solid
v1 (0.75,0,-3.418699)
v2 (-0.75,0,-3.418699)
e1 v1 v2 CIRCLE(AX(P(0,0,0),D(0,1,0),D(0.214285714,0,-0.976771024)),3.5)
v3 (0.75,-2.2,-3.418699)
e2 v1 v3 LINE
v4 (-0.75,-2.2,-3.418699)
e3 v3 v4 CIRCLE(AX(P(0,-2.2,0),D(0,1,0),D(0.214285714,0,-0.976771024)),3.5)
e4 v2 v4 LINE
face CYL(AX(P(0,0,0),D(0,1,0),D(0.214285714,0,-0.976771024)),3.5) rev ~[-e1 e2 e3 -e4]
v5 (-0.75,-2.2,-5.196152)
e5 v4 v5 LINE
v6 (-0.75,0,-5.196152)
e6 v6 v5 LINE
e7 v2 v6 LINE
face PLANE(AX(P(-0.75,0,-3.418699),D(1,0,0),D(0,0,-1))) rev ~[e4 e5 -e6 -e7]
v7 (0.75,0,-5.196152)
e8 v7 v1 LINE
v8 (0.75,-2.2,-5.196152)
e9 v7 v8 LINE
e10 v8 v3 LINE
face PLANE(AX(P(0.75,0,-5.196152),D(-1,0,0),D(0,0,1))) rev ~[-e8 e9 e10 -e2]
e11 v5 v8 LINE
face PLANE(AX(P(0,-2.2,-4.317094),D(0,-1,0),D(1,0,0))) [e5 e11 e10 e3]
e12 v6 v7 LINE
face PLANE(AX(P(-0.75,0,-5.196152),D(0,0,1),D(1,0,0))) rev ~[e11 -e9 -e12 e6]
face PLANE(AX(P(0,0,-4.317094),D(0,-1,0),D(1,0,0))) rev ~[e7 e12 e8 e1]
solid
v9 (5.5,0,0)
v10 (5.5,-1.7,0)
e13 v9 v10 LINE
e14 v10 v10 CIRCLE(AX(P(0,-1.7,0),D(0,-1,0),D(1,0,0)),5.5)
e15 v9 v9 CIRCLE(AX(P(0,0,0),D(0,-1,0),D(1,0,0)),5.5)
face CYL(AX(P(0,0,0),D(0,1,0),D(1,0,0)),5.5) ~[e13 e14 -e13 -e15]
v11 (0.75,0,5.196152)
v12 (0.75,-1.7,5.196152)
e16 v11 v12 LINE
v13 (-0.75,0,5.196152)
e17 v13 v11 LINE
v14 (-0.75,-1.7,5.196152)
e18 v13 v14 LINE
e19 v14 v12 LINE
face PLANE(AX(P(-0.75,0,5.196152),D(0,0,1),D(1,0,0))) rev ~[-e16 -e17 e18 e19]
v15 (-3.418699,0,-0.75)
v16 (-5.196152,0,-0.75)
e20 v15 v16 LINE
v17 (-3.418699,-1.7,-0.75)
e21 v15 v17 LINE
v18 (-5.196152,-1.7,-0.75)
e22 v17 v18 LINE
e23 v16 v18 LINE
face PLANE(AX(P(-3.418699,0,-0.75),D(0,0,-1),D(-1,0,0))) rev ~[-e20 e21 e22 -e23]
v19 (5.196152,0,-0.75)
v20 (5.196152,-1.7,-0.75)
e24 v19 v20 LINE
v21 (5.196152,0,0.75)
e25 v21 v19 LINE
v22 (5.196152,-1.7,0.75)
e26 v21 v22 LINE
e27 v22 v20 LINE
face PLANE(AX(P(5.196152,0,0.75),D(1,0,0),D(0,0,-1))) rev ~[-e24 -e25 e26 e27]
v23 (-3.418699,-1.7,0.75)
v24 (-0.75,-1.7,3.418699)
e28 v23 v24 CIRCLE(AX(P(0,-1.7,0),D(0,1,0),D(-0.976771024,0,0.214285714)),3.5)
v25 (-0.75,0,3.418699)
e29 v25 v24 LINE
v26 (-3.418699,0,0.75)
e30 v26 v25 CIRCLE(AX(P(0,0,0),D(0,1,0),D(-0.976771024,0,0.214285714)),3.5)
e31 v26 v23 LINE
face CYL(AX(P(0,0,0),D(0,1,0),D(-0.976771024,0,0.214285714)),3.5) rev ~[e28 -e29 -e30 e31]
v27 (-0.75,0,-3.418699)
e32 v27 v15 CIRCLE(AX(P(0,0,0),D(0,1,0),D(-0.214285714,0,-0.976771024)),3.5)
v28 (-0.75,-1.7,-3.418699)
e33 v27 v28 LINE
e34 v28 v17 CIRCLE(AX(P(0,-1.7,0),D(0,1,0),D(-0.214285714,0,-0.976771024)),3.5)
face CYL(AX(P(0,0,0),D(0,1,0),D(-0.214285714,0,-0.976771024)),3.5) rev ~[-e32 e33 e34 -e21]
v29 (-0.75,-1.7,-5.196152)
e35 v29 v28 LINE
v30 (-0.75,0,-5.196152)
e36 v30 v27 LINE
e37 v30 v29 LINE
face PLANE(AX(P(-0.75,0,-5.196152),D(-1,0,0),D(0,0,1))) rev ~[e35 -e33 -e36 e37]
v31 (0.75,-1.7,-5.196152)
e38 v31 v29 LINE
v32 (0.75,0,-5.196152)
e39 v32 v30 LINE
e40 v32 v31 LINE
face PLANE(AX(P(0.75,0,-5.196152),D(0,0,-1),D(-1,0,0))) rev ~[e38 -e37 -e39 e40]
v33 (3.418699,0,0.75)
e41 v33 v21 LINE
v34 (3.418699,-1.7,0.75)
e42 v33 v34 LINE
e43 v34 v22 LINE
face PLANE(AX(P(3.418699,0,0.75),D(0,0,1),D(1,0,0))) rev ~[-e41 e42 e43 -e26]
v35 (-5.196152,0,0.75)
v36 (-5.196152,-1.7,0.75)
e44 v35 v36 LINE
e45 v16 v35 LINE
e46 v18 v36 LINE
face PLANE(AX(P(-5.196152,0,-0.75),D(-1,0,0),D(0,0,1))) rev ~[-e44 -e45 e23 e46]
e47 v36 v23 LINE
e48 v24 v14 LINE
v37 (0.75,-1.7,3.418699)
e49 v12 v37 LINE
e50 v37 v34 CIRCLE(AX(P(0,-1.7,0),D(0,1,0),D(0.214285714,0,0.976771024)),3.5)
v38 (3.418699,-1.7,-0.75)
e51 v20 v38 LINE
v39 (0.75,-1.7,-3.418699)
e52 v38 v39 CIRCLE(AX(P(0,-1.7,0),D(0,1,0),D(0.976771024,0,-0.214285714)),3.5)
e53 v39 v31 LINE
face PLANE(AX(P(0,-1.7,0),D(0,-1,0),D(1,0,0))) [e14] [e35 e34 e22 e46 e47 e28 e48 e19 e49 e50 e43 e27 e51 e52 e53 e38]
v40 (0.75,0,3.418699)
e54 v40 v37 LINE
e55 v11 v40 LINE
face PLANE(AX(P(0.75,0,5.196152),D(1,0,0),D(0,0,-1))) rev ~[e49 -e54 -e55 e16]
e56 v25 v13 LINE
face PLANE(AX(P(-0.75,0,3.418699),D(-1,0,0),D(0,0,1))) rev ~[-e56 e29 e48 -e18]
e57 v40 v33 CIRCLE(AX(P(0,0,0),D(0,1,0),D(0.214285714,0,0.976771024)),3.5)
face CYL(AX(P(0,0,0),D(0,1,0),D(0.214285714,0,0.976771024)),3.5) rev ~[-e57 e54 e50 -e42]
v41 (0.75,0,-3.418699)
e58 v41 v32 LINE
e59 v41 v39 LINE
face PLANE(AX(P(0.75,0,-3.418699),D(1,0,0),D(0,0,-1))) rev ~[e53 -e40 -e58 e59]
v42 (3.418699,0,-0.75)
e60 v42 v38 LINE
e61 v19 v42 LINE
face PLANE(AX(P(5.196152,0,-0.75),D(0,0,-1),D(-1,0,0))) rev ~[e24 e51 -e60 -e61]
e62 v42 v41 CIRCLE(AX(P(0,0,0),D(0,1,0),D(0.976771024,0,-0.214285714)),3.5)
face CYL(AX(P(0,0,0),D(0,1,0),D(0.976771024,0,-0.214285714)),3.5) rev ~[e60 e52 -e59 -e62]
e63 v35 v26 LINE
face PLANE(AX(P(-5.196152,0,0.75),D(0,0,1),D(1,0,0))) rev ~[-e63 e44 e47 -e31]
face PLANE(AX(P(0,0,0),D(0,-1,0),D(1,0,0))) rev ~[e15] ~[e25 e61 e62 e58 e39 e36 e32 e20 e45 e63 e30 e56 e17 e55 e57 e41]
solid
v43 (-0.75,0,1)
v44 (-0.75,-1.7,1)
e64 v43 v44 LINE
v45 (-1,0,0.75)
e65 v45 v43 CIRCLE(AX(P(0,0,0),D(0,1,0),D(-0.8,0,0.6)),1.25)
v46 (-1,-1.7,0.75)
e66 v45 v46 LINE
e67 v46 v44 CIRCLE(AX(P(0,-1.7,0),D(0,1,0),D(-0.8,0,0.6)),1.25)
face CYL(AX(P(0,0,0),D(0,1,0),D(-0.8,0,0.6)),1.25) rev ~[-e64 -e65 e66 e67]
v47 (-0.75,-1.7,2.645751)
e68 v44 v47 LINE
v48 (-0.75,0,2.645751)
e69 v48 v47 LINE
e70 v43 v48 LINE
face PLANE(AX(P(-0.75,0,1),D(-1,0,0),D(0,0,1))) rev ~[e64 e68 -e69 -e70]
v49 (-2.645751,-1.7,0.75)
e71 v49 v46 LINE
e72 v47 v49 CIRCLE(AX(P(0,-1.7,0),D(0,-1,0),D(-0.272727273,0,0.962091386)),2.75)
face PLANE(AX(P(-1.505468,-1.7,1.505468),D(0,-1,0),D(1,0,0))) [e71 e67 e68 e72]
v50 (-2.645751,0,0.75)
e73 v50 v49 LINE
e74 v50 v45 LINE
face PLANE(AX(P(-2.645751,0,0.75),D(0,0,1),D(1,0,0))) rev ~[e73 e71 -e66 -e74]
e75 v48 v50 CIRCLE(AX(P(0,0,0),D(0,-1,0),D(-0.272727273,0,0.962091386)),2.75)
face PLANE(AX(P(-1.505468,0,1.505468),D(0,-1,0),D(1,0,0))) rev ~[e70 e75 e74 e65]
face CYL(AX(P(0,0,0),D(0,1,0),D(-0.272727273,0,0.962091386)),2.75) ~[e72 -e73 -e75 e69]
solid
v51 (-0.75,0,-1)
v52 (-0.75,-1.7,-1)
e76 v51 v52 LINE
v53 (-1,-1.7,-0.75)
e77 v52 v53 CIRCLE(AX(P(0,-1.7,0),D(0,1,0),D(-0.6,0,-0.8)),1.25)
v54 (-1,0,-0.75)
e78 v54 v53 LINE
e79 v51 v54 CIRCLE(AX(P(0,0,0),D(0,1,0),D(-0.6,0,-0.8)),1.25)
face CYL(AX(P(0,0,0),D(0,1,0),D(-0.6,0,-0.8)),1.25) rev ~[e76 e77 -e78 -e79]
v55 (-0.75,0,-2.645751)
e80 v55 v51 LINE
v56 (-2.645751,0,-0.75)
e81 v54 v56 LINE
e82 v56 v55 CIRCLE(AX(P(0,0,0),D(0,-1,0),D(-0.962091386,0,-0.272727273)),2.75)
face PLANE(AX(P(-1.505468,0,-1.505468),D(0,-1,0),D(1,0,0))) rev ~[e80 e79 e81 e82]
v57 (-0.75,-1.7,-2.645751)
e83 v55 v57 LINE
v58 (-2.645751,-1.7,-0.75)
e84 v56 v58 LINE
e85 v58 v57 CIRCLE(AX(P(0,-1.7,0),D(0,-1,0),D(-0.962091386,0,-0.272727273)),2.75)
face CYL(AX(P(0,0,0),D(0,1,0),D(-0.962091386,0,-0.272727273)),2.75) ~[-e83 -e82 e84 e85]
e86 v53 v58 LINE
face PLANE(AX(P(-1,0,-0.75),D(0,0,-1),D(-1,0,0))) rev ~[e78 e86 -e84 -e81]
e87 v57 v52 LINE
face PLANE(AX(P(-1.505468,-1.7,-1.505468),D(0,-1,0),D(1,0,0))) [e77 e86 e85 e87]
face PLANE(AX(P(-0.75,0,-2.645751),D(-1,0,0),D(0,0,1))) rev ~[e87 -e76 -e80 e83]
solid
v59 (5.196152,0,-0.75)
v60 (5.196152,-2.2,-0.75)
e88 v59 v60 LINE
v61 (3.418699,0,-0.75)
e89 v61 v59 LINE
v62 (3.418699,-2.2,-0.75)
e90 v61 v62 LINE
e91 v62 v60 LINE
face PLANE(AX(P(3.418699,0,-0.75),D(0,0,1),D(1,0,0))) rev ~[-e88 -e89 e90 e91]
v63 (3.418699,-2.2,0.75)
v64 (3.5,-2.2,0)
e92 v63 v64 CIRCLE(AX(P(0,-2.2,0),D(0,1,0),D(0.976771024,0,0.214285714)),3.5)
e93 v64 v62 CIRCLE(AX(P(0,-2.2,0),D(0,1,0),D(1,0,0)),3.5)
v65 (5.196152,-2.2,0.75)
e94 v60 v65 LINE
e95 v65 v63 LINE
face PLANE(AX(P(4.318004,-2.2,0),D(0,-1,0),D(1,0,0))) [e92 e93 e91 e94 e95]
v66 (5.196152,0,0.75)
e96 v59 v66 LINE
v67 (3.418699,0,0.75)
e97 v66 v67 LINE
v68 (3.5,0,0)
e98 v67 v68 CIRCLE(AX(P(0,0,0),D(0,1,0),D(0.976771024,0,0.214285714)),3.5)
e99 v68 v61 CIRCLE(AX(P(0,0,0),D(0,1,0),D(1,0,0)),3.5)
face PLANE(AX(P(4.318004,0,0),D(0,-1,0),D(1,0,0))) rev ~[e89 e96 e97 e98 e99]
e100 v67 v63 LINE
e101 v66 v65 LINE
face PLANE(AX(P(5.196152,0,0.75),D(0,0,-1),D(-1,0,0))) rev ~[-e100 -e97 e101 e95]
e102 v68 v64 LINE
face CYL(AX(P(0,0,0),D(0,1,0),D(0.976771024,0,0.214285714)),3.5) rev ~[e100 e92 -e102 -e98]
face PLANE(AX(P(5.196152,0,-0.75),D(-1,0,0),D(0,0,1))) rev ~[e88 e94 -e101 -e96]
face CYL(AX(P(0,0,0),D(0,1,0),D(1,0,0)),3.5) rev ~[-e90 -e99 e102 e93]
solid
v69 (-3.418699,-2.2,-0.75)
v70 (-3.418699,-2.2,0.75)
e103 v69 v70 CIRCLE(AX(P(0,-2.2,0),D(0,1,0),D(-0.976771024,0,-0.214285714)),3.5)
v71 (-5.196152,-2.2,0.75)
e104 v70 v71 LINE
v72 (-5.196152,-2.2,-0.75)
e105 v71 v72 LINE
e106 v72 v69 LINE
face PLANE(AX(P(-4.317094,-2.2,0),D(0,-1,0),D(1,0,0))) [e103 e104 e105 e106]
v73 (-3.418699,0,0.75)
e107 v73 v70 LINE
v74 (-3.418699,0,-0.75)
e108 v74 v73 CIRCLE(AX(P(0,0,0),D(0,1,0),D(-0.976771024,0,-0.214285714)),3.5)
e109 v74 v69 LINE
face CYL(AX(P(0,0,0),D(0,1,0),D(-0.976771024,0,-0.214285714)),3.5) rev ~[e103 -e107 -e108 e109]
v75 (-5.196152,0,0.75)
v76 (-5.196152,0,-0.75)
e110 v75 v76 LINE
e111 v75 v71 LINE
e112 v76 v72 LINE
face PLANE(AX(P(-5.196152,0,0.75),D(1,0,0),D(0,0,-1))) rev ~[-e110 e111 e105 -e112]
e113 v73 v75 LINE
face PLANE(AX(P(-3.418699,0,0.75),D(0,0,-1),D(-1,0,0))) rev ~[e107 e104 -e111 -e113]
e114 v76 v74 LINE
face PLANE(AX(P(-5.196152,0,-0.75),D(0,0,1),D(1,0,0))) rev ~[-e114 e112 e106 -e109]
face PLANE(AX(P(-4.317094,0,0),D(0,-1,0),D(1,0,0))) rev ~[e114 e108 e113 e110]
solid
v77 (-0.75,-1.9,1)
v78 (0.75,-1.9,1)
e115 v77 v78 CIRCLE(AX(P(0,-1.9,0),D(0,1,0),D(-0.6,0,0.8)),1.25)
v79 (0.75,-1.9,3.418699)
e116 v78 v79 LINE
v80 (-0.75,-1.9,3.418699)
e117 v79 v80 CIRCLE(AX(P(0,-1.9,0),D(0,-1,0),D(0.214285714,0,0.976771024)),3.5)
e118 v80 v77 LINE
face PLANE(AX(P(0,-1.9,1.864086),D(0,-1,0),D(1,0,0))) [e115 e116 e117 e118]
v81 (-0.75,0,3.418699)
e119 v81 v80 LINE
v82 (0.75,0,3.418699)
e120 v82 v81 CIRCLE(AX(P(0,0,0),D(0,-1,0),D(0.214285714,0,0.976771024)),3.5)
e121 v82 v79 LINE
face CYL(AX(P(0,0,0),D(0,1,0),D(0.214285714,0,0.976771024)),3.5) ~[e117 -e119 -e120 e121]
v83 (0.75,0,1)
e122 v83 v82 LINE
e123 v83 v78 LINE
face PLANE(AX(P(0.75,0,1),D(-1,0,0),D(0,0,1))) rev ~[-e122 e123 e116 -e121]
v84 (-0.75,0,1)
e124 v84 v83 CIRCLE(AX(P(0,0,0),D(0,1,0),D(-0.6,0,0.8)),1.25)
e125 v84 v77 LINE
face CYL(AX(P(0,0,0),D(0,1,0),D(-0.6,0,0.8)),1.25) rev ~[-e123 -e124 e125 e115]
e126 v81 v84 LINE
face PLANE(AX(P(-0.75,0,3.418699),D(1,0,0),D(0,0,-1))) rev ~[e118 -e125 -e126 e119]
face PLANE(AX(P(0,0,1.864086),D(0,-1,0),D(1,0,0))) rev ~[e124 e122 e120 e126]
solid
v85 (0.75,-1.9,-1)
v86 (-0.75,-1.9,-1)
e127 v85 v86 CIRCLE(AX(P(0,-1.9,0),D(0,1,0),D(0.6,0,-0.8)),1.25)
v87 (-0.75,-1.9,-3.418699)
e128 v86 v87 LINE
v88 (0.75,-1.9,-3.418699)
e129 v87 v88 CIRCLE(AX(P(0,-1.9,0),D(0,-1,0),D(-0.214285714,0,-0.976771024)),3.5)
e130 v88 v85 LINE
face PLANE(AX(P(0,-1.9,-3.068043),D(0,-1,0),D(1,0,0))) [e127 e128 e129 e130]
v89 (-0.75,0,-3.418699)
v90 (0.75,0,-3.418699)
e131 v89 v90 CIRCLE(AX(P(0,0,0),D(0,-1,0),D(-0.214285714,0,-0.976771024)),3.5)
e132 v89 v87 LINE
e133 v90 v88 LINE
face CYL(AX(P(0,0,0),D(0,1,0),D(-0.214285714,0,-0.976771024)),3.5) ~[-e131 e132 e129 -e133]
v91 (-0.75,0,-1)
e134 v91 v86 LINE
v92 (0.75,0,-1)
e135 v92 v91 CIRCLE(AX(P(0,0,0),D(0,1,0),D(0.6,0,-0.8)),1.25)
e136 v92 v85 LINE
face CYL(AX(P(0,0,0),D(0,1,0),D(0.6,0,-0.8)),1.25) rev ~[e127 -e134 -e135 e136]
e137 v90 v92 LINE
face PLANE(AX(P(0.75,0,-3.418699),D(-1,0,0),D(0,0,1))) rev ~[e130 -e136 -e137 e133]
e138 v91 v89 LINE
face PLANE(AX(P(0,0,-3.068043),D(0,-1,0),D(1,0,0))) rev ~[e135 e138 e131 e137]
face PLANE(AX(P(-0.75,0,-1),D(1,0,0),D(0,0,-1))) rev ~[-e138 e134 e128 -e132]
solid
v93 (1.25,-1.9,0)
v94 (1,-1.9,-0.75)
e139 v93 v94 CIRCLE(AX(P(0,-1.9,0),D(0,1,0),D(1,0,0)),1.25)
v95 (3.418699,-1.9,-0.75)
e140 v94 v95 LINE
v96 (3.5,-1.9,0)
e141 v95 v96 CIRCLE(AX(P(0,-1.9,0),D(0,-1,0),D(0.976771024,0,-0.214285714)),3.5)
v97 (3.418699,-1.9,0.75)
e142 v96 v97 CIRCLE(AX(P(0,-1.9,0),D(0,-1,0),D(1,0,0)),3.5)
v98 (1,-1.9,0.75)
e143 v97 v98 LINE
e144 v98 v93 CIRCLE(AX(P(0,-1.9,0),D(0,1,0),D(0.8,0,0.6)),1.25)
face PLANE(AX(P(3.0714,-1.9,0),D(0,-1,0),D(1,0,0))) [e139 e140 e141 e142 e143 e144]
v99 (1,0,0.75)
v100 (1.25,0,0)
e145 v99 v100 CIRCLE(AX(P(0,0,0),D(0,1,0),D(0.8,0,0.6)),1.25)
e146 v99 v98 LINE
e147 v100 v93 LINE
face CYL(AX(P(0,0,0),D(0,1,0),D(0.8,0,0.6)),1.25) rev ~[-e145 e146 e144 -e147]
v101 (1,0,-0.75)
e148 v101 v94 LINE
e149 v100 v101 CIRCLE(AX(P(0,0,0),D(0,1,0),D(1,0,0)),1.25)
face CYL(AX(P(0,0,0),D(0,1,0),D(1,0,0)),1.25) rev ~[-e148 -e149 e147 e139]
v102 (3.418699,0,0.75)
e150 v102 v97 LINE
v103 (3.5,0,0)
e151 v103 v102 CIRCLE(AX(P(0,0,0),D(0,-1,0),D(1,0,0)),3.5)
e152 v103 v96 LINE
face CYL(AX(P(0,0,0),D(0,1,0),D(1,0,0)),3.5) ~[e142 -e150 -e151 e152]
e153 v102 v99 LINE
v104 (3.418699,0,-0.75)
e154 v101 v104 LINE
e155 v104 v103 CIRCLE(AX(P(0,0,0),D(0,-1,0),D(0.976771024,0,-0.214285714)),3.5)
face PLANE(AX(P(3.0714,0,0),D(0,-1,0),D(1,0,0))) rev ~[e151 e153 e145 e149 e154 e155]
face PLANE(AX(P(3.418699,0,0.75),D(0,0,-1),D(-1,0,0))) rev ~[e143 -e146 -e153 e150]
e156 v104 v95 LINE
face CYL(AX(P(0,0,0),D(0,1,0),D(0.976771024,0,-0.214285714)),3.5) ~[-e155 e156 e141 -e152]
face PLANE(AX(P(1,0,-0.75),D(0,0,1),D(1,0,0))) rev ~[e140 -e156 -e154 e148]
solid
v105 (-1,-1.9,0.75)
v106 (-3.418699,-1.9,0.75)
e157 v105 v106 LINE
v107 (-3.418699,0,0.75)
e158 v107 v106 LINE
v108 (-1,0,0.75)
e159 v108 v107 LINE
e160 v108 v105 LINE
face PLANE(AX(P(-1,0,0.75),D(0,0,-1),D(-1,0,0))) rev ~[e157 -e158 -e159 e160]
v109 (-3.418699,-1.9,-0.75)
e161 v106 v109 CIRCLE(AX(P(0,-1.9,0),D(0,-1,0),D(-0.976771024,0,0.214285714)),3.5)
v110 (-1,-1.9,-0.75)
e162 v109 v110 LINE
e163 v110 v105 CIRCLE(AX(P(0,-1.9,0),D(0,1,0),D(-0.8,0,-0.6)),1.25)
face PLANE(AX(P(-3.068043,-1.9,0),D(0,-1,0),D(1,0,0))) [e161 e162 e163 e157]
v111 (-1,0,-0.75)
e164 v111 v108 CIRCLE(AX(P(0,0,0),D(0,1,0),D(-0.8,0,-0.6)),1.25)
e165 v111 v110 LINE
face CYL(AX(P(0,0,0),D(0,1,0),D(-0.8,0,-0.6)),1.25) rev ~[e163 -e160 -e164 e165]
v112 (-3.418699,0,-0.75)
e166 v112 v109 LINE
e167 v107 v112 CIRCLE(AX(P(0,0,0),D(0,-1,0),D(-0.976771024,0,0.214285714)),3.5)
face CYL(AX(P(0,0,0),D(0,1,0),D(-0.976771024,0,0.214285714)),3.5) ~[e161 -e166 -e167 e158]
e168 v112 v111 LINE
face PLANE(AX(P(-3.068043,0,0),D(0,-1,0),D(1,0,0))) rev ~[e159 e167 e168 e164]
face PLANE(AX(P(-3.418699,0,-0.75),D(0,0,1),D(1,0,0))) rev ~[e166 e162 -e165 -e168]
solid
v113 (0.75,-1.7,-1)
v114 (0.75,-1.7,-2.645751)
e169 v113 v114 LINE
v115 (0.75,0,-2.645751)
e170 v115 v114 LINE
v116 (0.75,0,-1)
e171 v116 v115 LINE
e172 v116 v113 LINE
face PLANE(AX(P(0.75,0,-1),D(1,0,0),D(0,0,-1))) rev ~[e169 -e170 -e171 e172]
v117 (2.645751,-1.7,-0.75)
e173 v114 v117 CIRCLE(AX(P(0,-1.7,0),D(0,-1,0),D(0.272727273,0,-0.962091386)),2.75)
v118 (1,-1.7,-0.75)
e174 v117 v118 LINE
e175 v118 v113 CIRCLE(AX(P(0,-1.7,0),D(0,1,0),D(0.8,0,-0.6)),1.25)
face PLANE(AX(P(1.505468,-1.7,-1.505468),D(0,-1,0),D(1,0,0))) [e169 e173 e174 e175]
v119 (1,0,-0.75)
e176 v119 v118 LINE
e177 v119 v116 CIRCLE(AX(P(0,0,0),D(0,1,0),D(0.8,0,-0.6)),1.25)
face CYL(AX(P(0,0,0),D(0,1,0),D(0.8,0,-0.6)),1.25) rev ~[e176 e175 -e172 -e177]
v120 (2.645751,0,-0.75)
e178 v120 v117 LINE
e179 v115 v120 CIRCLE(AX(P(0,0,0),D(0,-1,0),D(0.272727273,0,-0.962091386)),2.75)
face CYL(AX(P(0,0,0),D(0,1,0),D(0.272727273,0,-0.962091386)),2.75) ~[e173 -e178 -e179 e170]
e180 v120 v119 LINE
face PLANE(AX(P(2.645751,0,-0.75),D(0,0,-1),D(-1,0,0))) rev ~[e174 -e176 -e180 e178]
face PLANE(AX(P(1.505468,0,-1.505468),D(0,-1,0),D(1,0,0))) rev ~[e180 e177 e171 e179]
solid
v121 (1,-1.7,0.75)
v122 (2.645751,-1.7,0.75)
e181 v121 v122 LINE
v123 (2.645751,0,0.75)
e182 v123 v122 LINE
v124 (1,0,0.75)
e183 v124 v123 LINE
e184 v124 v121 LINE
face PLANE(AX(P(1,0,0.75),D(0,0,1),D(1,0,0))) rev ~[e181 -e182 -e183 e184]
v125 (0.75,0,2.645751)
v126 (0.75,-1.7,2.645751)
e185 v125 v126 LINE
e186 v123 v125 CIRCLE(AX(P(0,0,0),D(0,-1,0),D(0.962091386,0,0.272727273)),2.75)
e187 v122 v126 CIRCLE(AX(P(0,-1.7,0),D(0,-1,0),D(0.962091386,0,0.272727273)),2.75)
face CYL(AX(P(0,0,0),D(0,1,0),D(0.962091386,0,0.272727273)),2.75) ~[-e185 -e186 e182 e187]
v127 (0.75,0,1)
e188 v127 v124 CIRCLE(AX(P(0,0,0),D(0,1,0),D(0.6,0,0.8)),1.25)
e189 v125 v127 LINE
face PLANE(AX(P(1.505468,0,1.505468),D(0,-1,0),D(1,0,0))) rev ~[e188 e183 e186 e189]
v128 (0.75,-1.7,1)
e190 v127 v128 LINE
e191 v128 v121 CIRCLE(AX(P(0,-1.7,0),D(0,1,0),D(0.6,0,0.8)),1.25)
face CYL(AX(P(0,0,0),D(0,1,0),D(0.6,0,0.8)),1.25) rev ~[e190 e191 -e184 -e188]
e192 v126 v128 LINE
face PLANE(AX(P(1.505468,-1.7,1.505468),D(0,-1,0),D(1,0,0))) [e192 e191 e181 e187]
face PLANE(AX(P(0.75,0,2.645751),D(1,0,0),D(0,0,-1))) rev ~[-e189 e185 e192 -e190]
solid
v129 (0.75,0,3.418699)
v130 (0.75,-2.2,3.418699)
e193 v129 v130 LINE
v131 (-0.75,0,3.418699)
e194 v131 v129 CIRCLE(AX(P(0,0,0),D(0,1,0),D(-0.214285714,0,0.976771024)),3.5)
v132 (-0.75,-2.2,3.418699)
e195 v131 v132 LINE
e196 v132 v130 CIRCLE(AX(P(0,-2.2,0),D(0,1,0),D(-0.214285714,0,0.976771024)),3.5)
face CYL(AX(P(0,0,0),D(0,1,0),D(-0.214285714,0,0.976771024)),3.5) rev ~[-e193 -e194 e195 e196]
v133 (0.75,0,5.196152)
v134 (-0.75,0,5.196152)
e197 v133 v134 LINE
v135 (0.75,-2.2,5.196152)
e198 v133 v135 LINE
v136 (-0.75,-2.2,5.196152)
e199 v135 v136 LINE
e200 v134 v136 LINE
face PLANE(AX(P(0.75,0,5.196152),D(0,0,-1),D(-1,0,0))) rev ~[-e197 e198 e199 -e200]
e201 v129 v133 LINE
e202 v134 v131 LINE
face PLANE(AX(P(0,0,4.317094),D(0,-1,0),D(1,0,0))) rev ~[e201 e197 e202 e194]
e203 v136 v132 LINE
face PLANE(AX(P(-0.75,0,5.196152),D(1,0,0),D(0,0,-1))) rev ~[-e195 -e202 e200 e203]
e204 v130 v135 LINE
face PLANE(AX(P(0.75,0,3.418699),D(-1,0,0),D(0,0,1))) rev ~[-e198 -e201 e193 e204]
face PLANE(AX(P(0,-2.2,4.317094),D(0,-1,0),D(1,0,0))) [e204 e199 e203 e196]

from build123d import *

# Parameters (mm, degrees)
F1_DEPTH = 1.7
F0_R     = 5.5
F2_DEPTH = 1.9
F3_DEPTH = 2.2


with BuildPart() as f1:
    # F0 (on Front) → F1 (new body)
    with BuildSketch(Plane.XZ):
        with BuildLine():
            ThreePointArc((0.75, 1), (0.8838834765, 0.8838834765), (1, 0.75))
            Line((1, 0.75), (2.6457513111, 0.75))
            ThreePointArc((2.6457513111, 0.75), (1.9445436483, 1.9445436483), (0.75, 2.6457513111))
            Line((0.75, 2.6457513111), (0.75, 1))
        make_face()
    extrude(amount=F1_DEPTH)


with BuildPart() as f1b:
    # F0 (on Front) → F1, piece 2 (new body)
    with BuildSketch(Plane.XZ):
        Circle(F0_R)
        with BuildLine():
            ThreePointArc((0.75, 5.1961524227), (3.7123106012, 3.7123106012), (5.1961524227, 0.75))
            ThreePointArc((5.1961524227, 0.75), (5.236520802, 0.3759652782), (5.25, 0))
            ThreePointArc((5.25, 0), (5.236520802, -0.3759652782), (5.1961524227, -0.75))
            ThreePointArc((5.1961524227, -0.75), (3.7123106012, -3.7123106012), (0.75, -5.1961524227))
            ThreePointArc((0.75, -5.1961524227), (0, -5.25), (-0.75, -5.1961524227))
            ThreePointArc((-0.75, -5.1961524227), (-3.7123106012, -3.7123106012), (-5.1961524227, -0.75))
            ThreePointArc((-5.1961524227, -0.75), (-5.25, 0), (-5.1961524227, 0.75))
            ThreePointArc((-5.1961524227, 0.75), (-3.7123106012, 3.7123106012), (-0.75, 5.1961524227))
            ThreePointArc((-0.75, 5.1961524227), (0, 5.25), (0.75, 5.1961524227))
        make_face(mode=Mode.SUBTRACT)
        with BuildLine():
            ThreePointArc((0.75, 3.4186985828), (2.4748737342, 2.4748737342), (3.4186985828, 0.75))
            Line((3.4186985828, 0.75), (5.1961524227, 0.75))
            ThreePointArc((5.1961524227, 0.75), (3.7123106012, 3.7123106012), (0.75, 5.1961524227))
            Line((0.75, 5.1961524227), (0.75, 3.4186985828))
        make_face()
        with BuildLine():
            Line((-0.75, -5.1961524227), (-0.75, -3.4186985828))
            ThreePointArc((-0.75, -3.4186985828), (-2.4748737342, -2.4748737342), (-3.4186985828, -0.75))
            Line((-3.4186985828, -0.75), (-5.1961524227, -0.75))
            ThreePointArc((-5.1961524227, -0.75), (-3.7123106012, -3.7123106012), (-0.75, -5.1961524227))
        make_face()
        with BuildLine():
            ThreePointArc((-3.4186985828, 0.75), (-2.4748737342, 2.4748737342), (-0.75, 3.4186985828))
            Line((-0.75, 3.4186985828), (-0.75, 5.1961524227))
            ThreePointArc((-0.75, 5.1961524227), (-3.7123106012, 3.7123106012), (-5.1961524227, 0.75))
            Line((-5.1961524227, 0.75), (-3.4186985828, 0.75))
        make_face()
        with BuildLine():
            Line((5.1961524227, -0.75), (3.4186985828, -0.75))
            ThreePointArc((3.4186985828, -0.75), (2.4748737342, -2.4748737342), (0.75, -3.4186985828))
            Line((0.75, -3.4186985828), (0.75, -5.1961524227))
            ThreePointArc((0.75, -5.1961524227), (3.7123106012, -3.7123106012), (5.1961524227, -0.75))
        make_face()
        with BuildLine():
            Line((-0.75, 5.1961524227), (0.75, 5.1961524227))
            ThreePointArc((0.75, 5.1961524227), (0, 5.25), (-0.75, 5.1961524227))
        make_face()
        with BuildLine():
            ThreePointArc((-0.75, -5.1961524227), (0, -5.25), (0.75, -5.1961524227))
            Line((0.75, -5.1961524227), (-0.75, -5.1961524227))
        make_face()
        with BuildLine():
            ThreePointArc((5.25, 0), (5.236520802, 0.3759652782), (5.1961524227, 0.75))
            Line((5.1961524227, 0.75), (5.1961524227, -0.75))
            ThreePointArc((5.1961524227, -0.75), (5.236520802, -0.3759652782), (5.25, 0))
        make_face()
        with BuildLine():
            Line((-5.1961524227, -0.75), (-5.1961524227, 0.75))
            ThreePointArc((-5.1961524227, 0.75), (-5.25, 0), (-5.1961524227, -0.75))
        make_face()
    extrude(amount=F1_DEPTH)


with BuildPart() as f1c:
    # F0 (on Front) → F1, piece 3 (new body)
    with BuildSketch(Plane.XZ):
        with BuildLine():
            ThreePointArc((-1, 0.75), (-0.8838834765, 0.8838834765), (-0.75, 1))
            Line((-0.75, 1), (-0.75, 2.6457513111))
            ThreePointArc((-0.75, 2.6457513111), (-1.9445436483, 1.9445436483), (-2.6457513111, 0.75))
            Line((-2.6457513111, 0.75), (-1, 0.75))
        make_face()
    extrude(amount=F1_DEPTH)


with BuildPart() as f1d:
    # F0 (on Front) → F1, piece 4 (new body)
    with BuildSketch(Plane.XZ):
        with BuildLine():
            Line((-0.75, -2.6457513111), (-0.75, -1))
            ThreePointArc((-0.75, -1), (-0.8838834765, -0.8838834765), (-1, -0.75))
            Line((-1, -0.75), (-2.6457513111, -0.75))
            ThreePointArc((-2.6457513111, -0.75), (-1.9445436483, -1.9445436483), (-0.75, -2.6457513111))
        make_face()
    extrude(amount=F1_DEPTH)


with BuildPart() as f1e:
    # F0 (on Front) → F1, piece 5 (new body)
    with BuildSketch(Plane.XZ):
        with BuildLine():
            Line((2.6457513111, -0.75), (1, -0.75))
            ThreePointArc((1, -0.75), (0.8838834765, -0.8838834765), (0.75, -1))
            Line((0.75, -1), (0.75, -2.6457513111))
            ThreePointArc((0.75, -2.6457513111), (1.9445436483, -1.9445436483), (2.6457513111, -0.75))
        make_face()
    extrude(amount=F1_DEPTH)


with BuildPart() as f2:
    # F0 (on Front) → F2 (new body)
    with BuildSketch(Plane.XZ):
        with BuildLine():
            ThreePointArc((-2.6457513111, -0.75), (-2.75, 0), (-2.6457513111, 0.75))
            Line((-2.6457513111, 0.75), (-3.4186985828, 0.75))
            ThreePointArc((-3.4186985828, 0.75), (-3.5, 0), (-3.4186985828, -0.75))
            Line((-3.4186985828, -0.75), (-2.6457513111, -0.75))
        make_face()
        with BuildLine():
            ThreePointArc((-1, -0.75), (-1.25, 0), (-1, 0.75))
            Line((-1, 0.75), (-2.6457513111, 0.75))
            ThreePointArc((-2.6457513111, 0.75), (-2.75, 0), (-2.6457513111, -0.75))
            Line((-2.6457513111, -0.75), (-1, -0.75))
        make_face()
    extrude(amount=F2_DEPTH)


with BuildPart() as f2b:
    # F0 (on Front) → F2, piece 2 (new body)
    with BuildSketch(Plane.XZ):
        with BuildLine():
            ThreePointArc((-0.75, 1), (0, 1.25), (0.75, 1))
            Line((0.75, 1), (0.75, 2.6457513111))
            ThreePointArc((0.75, 2.6457513111), (0, 2.75), (-0.75, 2.6457513111))
            Line((-0.75, 2.6457513111), (-0.75, 1))
        make_face()
        with BuildLine():
            ThreePointArc((-0.75, 2.6457513111), (0, 2.75), (0.75, 2.6457513111))
            Line((0.75, 2.6457513111), (0.75, 3.4186985828))
            ThreePointArc((0.75, 3.4186985828), (0, 3.5), (-0.75, 3.4186985828))
            Line((-0.75, 3.4186985828), (-0.75, 2.6457513111))
        make_face()
    extrude(amount=F2_DEPTH)


with BuildPart() as f2c:
    # F0 (on Front) → F2, piece 3 (new body)
    with BuildSketch(Plane.XZ):
        with BuildLine():
            Line((3.4186985828, 0.75), (2.6457513111, 0.75))
            ThreePointArc((2.6457513111, 0.75), (2.7238131457, 0.3786052658), (2.75, 0))
            ThreePointArc((2.75, 0), (2.7238131457, -0.3786052658), (2.6457513111, -0.75))
            Line((2.6457513111, -0.75), (3.4186985828, -0.75))
            ThreePointArc((3.4186985828, -0.75), (3.4796152833, -0.3771968718), (3.5, 0))
            ThreePointArc((3.5, 0), (3.4796152833, 0.3771968718), (3.4186985828, 0.75))
        make_face()
        with BuildLine():
            ThreePointArc((1, 0.75), (1.1858541226, 0.3952847075), (1.25, 0))
            ThreePointArc((1.25, 0), (1.1858541226, -0.3952847075), (1, -0.75))
            Line((1, -0.75), (2.6457513111, -0.75))
            ThreePointArc((2.6457513111, -0.75), (2.7238131457, -0.3786052658), (2.75, 0))
            ThreePointArc((2.75, 0), (2.7238131457, 0.3786052658), (2.6457513111, 0.75))
            Line((2.6457513111, 0.75), (1, 0.75))
        make_face()
    extrude(amount=F2_DEPTH)


with BuildPart() as f2d:
    # F0 (on Front) → F2, piece 4 (new body)
    with BuildSketch(Plane.XZ):
        with BuildLine():
            Line((0.75, -3.4186985828), (0.75, -2.6457513111))
            ThreePointArc((0.75, -2.6457513111), (0, -2.75), (-0.75, -2.6457513111))
            Line((-0.75, -2.6457513111), (-0.75, -3.4186985828))
            ThreePointArc((-0.75, -3.4186985828), (0, -3.5), (0.75, -3.4186985828))
        make_face()
        with BuildLine():
            Line((0.75, -2.6457513111), (0.75, -1))
            ThreePointArc((0.75, -1), (0, -1.25), (-0.75, -1))
            Line((-0.75, -1), (-0.75, -2.6457513111))
            ThreePointArc((-0.75, -2.6457513111), (0, -2.75), (0.75, -2.6457513111))
        make_face()
    extrude(amount=F2_DEPTH)


with BuildPart() as f3:
    # F0 (on Front) → F3 (new body)
    with BuildSketch(Plane.XZ):
        with BuildLine():
            ThreePointArc((-3.4186985828, -0.75), (-3.5, 0), (-3.4186985828, 0.75))
            Line((-3.4186985828, 0.75), (-5.1961524227, 0.75))
            Line((-5.1961524227, 0.75), (-5.1961524227, -0.75))
            Line((-5.1961524227, -0.75), (-3.4186985828, -0.75))
        make_face()
    extrude(amount=F3_DEPTH)


with BuildPart() as f3b:
    # F0 (on Front) → F3, piece 2 (new body)
    with BuildSketch(Plane.XZ):
        with BuildLine():
            ThreePointArc((-0.75, 3.4186985828), (0, 3.5), (0.75, 3.4186985828))
            Line((0.75, 3.4186985828), (0.75, 5.1961524227))
            Line((0.75, 5.1961524227), (-0.75, 5.1961524227))
            Line((-0.75, 5.1961524227), (-0.75, 3.4186985828))
        make_face()
    extrude(amount=F3_DEPTH)


with BuildPart() as f3c:
    # F0 (on Front) → F3, piece 3 (new body)
    with BuildSketch(Plane.XZ):
        with BuildLine():
            Line((5.1961524227, 0.75), (3.4186985828, 0.75))
            ThreePointArc((3.4186985828, 0.75), (3.4796152833, 0.3771968718), (3.5, 0))
            ThreePointArc((3.5, 0), (3.4796152833, -0.3771968718), (3.4186985828, -0.75))
            Line((3.4186985828, -0.75), (5.1961524227, -0.75))
            Line((5.1961524227, -0.75), (5.1961524227, 0.75))
        make_face()
    extrude(amount=F3_DEPTH)


with BuildPart() as f3d:
    # F0 (on Front) → F3, piece 4 (new body)
    with BuildSketch(Plane.XZ):
        with BuildLine():
            Line((0.75, -5.1961524227), (0.75, -3.4186985828))
            ThreePointArc((0.75, -3.4186985828), (0, -3.5), (-0.75, -3.4186985828))
            Line((-0.75, -3.4186985828), (-0.75, -5.1961524227))
            Line((-0.75, -5.1961524227), (0.75, -5.1961524227))
        make_face()
    extrude(amount=F3_DEPTH)


solid = Compound([f1.part, f1b.part, f1c.part, f1d.part, f1e.part, f2.part, f2b.part, f2c.part, f2d.part, f3.part, f3b.part, f3c.part, f3d.part])
